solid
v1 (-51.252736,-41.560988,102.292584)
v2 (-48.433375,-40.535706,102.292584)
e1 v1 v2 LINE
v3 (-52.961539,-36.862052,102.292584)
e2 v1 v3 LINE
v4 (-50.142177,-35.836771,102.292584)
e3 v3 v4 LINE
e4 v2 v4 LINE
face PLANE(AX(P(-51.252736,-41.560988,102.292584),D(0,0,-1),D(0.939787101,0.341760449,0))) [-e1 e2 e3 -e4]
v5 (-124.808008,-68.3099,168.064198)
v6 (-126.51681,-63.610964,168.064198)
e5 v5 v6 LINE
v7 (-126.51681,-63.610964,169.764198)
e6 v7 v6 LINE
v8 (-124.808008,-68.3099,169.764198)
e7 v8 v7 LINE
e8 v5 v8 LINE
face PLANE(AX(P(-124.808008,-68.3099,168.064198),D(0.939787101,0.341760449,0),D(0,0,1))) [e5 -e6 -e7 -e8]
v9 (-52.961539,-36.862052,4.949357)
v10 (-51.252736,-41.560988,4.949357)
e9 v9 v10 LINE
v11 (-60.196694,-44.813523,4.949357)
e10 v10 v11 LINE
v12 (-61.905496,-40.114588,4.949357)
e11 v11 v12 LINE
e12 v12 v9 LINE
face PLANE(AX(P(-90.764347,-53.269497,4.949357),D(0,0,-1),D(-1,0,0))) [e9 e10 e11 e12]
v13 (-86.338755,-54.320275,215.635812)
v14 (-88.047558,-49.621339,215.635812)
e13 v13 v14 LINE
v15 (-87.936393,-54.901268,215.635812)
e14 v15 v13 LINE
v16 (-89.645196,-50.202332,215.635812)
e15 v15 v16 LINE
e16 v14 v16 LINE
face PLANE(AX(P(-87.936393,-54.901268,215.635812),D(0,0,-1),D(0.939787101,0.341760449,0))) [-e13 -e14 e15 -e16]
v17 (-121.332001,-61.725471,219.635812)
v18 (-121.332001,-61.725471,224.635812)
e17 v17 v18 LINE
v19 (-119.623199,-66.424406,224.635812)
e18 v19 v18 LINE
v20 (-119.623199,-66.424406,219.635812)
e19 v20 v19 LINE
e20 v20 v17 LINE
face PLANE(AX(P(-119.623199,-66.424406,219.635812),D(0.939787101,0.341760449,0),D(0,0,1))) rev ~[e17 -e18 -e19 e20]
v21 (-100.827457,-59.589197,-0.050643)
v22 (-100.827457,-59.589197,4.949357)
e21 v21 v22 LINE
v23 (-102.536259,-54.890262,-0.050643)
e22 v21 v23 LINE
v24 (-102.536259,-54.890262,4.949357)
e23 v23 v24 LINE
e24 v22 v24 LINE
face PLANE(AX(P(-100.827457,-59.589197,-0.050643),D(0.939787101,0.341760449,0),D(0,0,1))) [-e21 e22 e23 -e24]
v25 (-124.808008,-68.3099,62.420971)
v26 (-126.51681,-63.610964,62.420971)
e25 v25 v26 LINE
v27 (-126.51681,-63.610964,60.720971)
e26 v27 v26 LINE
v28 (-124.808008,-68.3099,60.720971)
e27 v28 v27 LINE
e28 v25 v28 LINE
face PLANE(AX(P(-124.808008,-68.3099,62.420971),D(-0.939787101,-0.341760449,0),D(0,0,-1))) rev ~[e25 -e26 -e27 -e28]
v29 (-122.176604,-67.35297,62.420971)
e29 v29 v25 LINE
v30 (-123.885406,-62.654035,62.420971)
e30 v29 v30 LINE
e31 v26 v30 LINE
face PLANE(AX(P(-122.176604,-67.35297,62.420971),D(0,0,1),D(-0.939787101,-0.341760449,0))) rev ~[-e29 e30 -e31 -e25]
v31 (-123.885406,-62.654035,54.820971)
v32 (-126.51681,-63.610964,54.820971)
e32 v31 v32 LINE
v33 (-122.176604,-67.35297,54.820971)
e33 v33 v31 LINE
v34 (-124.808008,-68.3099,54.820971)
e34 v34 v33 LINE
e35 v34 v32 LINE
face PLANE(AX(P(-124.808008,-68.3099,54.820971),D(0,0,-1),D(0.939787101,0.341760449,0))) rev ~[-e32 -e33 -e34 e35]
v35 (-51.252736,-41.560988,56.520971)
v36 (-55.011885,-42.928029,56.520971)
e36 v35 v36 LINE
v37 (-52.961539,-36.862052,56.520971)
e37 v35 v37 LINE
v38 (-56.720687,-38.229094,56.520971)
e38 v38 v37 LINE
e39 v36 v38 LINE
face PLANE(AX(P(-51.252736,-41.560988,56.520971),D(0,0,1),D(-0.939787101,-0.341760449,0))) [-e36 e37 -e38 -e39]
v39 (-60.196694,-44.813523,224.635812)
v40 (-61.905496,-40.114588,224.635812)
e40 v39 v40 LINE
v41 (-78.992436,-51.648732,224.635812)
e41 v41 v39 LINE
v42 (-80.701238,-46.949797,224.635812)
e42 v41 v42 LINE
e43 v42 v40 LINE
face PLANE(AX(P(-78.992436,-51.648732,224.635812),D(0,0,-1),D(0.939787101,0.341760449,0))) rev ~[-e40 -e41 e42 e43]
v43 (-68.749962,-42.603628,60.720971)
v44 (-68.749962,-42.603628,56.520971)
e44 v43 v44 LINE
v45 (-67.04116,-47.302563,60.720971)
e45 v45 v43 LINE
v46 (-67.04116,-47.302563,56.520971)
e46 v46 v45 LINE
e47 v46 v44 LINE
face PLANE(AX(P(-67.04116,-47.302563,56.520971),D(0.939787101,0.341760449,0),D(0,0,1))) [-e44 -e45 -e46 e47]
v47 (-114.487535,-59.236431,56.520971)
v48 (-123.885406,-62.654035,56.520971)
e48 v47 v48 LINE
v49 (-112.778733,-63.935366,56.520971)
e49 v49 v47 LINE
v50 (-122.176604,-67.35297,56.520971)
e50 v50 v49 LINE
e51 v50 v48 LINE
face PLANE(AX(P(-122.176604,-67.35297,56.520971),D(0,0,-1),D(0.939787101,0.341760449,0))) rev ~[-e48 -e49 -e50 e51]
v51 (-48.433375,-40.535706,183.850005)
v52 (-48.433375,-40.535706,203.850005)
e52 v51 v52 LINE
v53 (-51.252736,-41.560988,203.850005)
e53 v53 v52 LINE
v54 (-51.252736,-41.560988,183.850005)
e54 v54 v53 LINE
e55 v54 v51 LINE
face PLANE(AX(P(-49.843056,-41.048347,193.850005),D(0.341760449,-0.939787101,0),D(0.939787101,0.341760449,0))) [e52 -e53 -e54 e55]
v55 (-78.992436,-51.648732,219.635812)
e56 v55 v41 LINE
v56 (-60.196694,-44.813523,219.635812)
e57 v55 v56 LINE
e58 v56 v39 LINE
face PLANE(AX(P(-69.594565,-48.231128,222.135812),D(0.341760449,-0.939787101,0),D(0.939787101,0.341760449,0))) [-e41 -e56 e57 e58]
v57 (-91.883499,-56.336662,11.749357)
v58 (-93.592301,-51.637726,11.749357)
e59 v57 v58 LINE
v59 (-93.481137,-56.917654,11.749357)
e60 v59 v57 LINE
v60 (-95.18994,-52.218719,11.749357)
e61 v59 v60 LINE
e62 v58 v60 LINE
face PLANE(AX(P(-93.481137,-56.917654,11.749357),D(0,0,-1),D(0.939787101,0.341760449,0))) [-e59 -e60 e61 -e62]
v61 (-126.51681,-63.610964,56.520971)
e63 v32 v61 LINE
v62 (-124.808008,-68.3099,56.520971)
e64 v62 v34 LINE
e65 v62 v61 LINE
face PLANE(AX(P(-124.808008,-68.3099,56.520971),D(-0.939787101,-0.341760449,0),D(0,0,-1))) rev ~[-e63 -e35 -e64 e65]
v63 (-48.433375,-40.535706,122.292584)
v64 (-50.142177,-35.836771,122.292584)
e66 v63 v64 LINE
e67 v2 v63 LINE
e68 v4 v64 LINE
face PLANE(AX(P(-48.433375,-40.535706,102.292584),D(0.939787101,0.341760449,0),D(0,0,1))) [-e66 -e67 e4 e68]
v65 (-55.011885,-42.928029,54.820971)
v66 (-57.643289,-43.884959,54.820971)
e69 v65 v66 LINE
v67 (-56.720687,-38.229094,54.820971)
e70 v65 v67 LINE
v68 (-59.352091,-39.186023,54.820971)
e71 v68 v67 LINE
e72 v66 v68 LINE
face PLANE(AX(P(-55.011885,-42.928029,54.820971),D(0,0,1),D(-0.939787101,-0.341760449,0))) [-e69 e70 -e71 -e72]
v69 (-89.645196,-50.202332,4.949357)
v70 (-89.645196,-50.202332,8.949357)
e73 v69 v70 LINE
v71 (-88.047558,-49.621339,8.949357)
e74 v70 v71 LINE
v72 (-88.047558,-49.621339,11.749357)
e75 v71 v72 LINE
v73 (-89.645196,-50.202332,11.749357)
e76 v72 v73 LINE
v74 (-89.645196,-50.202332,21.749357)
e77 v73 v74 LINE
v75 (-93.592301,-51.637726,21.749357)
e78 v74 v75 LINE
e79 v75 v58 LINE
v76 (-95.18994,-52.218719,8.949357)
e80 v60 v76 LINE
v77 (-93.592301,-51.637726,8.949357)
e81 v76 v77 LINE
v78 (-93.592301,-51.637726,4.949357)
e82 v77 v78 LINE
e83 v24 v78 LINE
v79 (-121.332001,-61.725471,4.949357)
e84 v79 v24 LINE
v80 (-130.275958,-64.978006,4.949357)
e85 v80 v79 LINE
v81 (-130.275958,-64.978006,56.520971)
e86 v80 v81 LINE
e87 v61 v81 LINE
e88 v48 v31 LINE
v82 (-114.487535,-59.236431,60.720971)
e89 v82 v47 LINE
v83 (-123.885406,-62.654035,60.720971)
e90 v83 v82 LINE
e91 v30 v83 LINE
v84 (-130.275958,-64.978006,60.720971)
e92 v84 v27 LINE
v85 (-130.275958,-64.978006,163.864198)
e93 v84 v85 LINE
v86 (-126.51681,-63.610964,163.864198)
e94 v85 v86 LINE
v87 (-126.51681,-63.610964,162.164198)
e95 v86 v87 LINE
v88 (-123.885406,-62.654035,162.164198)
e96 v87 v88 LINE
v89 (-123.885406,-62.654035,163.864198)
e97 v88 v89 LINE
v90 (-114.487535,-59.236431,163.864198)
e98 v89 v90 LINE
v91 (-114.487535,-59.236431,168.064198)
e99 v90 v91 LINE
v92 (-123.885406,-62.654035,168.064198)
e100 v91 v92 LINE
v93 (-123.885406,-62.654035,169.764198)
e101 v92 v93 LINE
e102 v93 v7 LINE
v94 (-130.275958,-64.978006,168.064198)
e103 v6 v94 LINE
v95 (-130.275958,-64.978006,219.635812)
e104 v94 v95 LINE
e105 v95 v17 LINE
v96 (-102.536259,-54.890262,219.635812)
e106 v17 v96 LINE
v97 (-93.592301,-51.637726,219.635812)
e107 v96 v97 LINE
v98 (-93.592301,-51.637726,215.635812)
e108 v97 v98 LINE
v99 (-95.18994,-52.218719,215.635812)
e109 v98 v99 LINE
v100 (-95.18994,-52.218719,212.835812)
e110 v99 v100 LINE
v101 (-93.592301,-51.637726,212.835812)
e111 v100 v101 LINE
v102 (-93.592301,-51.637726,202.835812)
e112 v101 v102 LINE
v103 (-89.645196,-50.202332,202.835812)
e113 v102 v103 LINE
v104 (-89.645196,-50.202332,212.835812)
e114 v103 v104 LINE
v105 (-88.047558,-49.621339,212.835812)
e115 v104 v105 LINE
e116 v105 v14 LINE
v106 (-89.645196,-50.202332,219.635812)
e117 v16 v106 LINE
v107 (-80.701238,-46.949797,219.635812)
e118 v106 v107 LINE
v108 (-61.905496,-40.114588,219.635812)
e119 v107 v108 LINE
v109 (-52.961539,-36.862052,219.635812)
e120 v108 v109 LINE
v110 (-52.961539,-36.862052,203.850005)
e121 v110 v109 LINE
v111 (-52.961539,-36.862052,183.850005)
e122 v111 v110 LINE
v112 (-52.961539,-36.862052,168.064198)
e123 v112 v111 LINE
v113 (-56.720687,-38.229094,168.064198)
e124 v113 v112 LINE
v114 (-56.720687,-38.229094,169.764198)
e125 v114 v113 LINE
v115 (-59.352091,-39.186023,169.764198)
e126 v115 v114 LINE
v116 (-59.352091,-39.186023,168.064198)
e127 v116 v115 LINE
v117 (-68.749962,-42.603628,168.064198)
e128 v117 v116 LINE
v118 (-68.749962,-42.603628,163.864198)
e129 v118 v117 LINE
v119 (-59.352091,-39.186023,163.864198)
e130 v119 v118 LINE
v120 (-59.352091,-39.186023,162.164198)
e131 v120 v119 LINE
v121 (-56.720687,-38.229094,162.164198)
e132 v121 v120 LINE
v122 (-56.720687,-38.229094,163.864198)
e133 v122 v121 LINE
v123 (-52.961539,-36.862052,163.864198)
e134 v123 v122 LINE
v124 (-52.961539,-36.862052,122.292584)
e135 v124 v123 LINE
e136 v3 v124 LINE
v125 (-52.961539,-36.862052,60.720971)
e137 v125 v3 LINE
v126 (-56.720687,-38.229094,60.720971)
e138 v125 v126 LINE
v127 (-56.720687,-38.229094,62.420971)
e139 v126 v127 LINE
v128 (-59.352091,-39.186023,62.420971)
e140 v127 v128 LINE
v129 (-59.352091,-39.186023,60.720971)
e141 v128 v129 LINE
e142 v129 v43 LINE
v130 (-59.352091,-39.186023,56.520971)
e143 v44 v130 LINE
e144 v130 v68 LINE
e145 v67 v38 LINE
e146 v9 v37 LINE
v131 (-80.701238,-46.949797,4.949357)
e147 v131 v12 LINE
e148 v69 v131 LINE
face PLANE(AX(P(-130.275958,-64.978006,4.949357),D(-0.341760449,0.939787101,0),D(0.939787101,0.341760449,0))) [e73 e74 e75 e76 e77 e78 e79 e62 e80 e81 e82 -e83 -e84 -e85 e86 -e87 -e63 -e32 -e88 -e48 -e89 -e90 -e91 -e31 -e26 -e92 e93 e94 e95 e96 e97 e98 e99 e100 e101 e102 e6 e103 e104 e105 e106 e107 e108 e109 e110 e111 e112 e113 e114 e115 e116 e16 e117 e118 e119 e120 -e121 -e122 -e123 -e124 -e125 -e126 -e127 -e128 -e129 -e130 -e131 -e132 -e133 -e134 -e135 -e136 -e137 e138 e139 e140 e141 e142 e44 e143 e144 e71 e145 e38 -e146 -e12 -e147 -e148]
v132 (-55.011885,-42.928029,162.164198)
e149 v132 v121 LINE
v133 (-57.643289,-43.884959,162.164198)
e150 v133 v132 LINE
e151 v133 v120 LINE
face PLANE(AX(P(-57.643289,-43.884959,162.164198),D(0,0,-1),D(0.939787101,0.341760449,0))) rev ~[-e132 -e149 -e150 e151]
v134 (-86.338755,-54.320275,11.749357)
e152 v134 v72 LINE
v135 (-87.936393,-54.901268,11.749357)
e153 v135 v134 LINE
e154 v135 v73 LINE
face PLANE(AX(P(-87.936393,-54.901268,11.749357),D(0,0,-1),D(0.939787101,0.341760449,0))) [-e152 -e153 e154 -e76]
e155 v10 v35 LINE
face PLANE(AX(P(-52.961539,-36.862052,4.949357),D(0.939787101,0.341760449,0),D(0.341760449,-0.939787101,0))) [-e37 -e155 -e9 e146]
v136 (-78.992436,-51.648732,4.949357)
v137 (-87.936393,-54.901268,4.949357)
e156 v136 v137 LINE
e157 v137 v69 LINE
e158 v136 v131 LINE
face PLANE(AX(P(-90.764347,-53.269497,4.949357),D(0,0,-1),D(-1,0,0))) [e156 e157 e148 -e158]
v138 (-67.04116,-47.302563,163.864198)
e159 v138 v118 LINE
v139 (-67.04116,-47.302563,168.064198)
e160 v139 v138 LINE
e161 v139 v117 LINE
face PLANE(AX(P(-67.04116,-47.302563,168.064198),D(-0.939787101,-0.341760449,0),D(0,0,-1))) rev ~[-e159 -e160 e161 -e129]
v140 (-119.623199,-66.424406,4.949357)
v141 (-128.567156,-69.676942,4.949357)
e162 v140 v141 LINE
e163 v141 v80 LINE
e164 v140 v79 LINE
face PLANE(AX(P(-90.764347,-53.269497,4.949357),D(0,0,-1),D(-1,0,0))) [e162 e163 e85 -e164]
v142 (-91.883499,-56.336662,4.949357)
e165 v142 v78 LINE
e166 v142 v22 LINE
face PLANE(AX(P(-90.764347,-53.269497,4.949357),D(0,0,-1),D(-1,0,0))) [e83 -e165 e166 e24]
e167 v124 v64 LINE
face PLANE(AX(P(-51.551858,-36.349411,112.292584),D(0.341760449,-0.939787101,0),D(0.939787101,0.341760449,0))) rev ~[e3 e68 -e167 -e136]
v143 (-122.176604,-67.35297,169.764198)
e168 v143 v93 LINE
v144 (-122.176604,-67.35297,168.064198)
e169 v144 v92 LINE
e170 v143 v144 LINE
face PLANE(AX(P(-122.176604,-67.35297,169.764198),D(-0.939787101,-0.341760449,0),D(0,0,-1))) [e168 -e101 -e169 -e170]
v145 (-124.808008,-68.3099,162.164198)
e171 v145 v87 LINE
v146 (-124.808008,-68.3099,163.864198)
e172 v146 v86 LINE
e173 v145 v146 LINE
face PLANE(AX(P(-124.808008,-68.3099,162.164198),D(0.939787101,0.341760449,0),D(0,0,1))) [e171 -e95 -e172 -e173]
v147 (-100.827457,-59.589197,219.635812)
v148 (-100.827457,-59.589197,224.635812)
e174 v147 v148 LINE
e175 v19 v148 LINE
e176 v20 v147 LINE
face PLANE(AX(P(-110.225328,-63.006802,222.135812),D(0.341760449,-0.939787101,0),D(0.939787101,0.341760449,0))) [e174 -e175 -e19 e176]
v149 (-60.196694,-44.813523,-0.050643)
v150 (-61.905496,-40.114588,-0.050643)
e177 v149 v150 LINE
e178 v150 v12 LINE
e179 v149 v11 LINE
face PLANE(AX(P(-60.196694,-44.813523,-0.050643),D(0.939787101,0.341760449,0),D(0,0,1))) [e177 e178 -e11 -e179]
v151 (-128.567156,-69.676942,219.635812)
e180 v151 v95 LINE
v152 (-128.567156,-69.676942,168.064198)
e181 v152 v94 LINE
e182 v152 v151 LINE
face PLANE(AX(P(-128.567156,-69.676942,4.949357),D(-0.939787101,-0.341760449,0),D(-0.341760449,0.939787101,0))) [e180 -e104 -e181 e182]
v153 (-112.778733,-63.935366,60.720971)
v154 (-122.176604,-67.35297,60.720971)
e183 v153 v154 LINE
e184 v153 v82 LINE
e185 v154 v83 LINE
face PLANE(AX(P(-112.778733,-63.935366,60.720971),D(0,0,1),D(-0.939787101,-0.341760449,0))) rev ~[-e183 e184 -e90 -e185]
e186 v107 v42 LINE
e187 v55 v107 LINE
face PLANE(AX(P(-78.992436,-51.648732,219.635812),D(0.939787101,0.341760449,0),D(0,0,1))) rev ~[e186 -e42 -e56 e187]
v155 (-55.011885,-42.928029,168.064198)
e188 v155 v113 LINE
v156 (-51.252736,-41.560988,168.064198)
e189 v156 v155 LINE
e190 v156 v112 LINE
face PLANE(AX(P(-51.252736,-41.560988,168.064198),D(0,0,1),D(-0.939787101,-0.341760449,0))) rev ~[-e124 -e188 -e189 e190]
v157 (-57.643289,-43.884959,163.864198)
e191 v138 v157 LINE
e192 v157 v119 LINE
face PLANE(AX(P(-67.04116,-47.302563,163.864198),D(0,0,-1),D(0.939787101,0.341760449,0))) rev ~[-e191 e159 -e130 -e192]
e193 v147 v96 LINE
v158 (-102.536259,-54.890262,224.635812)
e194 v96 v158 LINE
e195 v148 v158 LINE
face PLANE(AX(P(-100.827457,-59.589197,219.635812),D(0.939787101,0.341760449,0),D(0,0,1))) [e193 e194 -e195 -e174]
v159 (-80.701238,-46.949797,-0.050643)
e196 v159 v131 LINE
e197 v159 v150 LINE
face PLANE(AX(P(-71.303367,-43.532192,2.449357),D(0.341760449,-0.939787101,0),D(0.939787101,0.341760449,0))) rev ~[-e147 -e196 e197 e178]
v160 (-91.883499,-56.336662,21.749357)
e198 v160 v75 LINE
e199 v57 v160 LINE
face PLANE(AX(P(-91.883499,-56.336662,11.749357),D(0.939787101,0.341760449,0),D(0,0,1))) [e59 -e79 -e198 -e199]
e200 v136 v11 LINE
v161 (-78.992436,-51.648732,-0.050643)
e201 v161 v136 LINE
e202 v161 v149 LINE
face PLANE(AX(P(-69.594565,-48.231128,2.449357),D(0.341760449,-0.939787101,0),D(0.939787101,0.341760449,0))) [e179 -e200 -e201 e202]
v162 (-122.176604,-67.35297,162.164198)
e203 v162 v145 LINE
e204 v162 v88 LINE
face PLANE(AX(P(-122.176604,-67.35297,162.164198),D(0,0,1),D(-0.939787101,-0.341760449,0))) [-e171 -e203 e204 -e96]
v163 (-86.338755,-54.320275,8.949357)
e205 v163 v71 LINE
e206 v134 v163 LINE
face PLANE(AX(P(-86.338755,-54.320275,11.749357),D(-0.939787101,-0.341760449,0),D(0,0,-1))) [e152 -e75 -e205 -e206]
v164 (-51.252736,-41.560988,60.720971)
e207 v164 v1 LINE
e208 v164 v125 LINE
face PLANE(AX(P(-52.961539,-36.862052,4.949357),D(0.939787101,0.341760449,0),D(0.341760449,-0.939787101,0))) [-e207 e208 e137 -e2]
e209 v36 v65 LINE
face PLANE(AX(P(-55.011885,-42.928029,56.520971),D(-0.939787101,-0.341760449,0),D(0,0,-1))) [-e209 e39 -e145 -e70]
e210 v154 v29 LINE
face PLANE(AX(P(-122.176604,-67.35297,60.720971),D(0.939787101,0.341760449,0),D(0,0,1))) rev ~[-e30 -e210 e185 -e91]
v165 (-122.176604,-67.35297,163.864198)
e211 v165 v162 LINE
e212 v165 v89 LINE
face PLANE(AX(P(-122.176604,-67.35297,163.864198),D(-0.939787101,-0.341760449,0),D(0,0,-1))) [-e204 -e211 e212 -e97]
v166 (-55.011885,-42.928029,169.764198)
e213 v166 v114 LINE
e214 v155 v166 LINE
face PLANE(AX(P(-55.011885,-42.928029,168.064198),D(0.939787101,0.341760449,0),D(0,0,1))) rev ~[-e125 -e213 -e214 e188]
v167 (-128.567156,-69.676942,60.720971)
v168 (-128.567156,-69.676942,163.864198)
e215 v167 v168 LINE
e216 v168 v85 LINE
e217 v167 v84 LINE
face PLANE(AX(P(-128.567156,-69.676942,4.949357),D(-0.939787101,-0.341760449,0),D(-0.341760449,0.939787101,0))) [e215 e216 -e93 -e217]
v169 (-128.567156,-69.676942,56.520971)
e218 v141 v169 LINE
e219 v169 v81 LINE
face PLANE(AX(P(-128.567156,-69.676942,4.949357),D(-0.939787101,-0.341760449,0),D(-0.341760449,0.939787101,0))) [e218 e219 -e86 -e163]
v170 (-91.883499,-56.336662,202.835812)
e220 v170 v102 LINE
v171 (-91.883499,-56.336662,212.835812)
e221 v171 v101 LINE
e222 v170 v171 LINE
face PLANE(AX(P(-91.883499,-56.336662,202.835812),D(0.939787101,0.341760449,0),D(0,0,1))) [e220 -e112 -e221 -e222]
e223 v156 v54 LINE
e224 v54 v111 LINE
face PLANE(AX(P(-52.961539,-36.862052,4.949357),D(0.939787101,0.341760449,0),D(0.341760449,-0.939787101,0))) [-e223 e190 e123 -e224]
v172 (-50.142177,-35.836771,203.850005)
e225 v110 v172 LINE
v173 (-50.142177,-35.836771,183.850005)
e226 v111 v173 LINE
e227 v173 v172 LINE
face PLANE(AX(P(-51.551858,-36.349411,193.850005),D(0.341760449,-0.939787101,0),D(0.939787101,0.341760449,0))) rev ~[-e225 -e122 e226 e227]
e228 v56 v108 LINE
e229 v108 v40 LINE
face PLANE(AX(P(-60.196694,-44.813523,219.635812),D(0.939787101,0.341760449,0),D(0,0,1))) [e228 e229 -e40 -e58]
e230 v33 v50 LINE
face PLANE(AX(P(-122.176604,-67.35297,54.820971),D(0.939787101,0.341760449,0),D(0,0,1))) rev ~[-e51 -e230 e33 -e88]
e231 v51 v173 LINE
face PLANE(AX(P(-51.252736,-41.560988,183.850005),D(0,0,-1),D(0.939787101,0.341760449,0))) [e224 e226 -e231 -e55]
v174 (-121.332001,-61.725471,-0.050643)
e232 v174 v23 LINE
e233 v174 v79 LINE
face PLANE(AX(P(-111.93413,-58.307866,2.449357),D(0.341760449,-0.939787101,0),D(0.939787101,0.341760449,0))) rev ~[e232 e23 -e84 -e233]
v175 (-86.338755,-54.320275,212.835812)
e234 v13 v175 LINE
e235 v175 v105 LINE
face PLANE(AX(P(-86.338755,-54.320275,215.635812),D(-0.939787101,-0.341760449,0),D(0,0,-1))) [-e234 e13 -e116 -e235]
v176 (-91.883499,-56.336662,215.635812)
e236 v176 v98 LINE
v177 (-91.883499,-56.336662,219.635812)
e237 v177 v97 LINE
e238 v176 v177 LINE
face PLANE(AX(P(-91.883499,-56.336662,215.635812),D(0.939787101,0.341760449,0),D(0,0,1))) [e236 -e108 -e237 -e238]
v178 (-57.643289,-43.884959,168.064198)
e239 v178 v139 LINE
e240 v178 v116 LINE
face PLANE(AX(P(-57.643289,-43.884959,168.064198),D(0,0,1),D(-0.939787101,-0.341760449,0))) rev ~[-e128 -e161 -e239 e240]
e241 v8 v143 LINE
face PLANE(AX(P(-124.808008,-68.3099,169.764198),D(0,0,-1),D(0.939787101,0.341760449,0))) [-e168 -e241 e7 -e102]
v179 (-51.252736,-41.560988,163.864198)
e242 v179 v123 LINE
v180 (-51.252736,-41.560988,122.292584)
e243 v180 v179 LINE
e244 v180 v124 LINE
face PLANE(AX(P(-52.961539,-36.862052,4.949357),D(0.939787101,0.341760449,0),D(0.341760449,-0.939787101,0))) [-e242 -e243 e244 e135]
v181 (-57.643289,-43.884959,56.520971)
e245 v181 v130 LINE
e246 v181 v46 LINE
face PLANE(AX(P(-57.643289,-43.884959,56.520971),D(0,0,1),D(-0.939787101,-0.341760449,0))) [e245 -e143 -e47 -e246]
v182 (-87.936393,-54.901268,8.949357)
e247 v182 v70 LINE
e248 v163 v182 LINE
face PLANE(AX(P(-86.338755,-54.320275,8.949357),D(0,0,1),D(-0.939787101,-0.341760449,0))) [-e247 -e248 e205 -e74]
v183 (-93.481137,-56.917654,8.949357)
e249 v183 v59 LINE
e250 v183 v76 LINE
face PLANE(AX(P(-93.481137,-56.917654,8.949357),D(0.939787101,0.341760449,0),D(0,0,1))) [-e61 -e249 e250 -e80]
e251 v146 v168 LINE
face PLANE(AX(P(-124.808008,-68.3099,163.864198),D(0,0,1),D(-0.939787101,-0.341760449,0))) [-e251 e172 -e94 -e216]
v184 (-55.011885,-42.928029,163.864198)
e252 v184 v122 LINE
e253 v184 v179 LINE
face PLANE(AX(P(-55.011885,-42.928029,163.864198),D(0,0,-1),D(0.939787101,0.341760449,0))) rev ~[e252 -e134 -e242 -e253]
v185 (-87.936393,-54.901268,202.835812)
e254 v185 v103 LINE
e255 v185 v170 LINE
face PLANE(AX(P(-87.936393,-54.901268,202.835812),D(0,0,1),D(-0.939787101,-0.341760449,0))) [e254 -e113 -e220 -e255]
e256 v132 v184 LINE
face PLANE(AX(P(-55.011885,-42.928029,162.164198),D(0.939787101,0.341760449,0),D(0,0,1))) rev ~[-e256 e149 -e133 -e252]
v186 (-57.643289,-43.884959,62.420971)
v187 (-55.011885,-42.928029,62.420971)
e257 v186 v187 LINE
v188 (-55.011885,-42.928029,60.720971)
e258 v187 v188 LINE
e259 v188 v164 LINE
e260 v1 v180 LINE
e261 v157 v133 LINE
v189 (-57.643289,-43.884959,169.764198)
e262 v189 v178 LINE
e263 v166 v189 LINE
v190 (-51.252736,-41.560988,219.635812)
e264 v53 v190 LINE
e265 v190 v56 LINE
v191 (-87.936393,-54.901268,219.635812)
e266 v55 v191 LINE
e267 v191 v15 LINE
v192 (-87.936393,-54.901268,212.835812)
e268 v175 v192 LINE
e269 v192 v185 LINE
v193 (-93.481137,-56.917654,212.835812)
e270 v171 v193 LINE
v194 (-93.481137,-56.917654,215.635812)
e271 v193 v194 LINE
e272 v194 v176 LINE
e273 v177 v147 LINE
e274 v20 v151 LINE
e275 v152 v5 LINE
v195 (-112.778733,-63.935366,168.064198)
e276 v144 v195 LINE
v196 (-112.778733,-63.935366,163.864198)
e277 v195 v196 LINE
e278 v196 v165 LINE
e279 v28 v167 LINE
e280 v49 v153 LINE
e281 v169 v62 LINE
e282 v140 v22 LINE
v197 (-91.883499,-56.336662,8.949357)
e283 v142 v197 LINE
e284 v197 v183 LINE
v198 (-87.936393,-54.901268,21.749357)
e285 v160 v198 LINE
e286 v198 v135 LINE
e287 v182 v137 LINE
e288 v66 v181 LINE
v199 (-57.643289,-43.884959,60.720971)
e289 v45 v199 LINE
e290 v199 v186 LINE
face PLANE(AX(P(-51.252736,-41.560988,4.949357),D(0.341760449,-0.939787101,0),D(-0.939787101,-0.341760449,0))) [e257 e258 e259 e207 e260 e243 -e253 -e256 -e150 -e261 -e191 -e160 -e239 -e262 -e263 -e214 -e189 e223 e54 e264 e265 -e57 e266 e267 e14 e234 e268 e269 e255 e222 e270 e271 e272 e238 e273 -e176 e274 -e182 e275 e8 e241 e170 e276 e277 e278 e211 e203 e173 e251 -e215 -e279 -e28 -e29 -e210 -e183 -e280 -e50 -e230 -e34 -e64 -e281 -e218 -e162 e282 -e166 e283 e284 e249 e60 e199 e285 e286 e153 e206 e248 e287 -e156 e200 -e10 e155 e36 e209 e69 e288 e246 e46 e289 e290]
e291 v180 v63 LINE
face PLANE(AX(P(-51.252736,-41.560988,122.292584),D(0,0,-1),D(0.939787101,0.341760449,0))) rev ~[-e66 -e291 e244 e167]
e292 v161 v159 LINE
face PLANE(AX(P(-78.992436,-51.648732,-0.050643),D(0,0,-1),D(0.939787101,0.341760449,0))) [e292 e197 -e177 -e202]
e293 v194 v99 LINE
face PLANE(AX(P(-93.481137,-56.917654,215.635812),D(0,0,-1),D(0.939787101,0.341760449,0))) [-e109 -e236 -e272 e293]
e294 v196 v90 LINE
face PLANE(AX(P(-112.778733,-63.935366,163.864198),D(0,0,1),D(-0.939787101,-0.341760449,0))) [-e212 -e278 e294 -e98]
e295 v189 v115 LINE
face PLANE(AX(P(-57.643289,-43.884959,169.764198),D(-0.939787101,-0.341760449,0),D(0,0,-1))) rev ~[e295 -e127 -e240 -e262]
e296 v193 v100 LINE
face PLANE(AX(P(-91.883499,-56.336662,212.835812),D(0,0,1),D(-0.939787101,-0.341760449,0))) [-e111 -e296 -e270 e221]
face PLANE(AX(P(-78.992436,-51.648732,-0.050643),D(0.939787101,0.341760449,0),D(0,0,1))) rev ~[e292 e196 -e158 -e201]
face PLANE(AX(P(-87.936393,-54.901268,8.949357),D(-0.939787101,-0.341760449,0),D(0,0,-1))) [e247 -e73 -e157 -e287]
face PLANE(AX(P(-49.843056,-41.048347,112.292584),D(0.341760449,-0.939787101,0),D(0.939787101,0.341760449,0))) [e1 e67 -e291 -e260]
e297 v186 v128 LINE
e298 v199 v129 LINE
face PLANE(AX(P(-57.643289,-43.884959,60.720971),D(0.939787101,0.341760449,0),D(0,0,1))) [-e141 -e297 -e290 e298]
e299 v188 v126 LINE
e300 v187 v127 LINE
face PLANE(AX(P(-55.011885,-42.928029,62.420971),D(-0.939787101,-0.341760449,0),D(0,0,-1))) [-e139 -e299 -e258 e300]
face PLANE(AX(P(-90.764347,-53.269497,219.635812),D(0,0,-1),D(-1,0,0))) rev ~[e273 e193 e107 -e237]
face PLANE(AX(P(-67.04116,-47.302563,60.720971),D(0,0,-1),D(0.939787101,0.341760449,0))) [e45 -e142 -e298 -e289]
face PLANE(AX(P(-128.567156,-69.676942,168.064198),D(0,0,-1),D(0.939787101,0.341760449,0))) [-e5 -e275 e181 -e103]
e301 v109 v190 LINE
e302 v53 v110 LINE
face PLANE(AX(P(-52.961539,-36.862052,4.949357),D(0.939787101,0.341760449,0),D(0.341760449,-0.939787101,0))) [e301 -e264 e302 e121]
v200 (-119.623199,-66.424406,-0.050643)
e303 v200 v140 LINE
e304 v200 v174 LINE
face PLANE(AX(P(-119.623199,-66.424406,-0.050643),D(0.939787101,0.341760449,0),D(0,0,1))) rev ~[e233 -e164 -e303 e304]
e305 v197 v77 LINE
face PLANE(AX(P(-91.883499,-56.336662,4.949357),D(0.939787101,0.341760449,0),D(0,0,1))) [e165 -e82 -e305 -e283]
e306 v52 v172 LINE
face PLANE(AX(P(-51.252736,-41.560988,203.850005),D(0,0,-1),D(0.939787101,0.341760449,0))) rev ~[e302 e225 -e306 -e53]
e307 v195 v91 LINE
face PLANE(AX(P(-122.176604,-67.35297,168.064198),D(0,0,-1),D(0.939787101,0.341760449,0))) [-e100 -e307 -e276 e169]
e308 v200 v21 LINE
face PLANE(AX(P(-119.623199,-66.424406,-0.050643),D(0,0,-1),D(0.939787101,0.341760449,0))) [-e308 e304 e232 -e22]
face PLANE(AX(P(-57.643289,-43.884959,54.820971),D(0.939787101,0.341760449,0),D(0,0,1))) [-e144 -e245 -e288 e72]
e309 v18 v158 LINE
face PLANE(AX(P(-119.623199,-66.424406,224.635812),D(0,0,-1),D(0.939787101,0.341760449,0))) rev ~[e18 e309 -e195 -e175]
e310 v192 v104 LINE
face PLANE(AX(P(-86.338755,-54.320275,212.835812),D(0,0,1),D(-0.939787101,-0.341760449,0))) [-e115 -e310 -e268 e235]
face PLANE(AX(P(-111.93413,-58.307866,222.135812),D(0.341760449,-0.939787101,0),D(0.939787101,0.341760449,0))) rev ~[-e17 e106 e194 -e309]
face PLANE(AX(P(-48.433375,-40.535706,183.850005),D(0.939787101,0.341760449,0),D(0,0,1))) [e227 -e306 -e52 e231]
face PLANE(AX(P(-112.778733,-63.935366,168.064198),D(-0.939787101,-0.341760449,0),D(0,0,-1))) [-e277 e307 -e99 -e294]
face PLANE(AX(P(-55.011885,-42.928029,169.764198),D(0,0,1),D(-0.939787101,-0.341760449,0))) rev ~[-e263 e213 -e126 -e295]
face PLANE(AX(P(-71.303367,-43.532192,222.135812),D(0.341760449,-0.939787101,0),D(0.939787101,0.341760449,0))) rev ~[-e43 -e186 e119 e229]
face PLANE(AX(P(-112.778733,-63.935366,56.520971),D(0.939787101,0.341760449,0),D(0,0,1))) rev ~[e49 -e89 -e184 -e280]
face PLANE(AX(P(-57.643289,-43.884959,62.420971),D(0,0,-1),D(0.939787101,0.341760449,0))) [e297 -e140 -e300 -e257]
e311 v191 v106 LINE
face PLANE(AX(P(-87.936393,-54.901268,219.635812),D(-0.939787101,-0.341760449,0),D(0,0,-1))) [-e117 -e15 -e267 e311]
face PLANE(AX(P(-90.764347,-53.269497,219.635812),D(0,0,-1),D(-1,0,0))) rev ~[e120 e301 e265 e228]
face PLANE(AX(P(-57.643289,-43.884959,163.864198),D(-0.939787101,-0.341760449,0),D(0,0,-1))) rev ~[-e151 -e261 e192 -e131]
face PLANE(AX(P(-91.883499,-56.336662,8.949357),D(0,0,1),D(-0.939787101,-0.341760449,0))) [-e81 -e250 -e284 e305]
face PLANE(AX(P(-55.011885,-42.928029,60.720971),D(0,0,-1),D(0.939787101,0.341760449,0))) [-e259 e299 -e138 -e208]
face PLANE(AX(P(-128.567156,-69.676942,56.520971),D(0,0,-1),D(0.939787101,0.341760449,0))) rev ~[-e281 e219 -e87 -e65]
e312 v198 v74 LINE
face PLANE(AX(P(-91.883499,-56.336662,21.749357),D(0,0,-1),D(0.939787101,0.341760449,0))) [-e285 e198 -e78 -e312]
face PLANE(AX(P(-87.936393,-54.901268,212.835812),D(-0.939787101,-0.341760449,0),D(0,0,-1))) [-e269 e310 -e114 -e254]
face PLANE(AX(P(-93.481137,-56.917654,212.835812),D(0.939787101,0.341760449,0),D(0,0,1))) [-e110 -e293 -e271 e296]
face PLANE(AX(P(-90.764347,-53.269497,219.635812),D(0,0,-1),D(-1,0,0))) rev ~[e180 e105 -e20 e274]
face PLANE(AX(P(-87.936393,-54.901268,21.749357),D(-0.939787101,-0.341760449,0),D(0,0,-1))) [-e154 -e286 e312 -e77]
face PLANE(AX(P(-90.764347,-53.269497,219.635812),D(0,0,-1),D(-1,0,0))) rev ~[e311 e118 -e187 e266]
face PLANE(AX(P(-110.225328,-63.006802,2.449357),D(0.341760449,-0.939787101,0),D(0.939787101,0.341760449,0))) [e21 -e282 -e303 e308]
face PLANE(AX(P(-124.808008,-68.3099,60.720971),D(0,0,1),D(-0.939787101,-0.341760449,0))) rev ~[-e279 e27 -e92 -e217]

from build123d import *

# Parameters (mm, degrees)
BOSS_EXTRUDE1_DEPTH = 214.686455
CUT_EXTRUDE3_DEPTH  = 32.423010849
SKETCH5_W           = 20
SKETCH5_H           = 5
SKETCH5_W_2         = 3
SKETCH5_H_2         = 20
BOSS_EXTRUDE2_DEPTH = 5


with BuildPart() as part:
    # Sketch2 → Boss-Extrude1 (new body)
    with BuildSketch(Plane.XY.offset(4.949356739)):
        Polygon((-52.961538618, -36.862052104), (-51.252736373, -41.56098761), (-128.567156233, -69.67694155), (-130.275958479, -64.978006044), align=None)
    extrude(amount=BOSS_EXTRUDE1_DEPTH)

    # Sketch4 → Cut-Extrude3 (cut, through all)
    with BuildSketch(Plane(origin=(7.362313595, -20.245196221, 0), x_dir=(-0.939787101, -0.341760449, 0), z_dir=(0.341760449, -0.939787101, 0))):
        Polygon((101.40457011, -4.949356739), (105.60457011, -4.949356739), (105.60457011, -8.949356739), (107.30457011, -8.949356739), (107.30457011, -11.749356739), (105.60457011, -11.749356739), (105.60457011, -21.749356739), (101.40457011, -21.749356739), (101.40457011, -11.749356739), (99.70457011, -11.749356739), (99.70457011, -8.949356739), (101.40457011, -8.949356739), align=None)
        Polygon((62.37056233, -60.720970532), (62.37056233, -56.520970532), (66.37056233, -56.520970532), (66.37056233, -54.820970532), (69.17056233, -54.820970532), (69.17056233, -56.520970532), (79.17056233, -56.520970532), (79.17056233, -60.720970532), (69.17056233, -60.720970532), (69.17056233, -62.420970532), (66.37056233, -62.420970532), (66.37056233, -60.720970532), align=None)
        Polygon((105.60457011, -219.635811913), (101.40457011, -219.635811913), (101.40457011, -215.635811913), (99.70457011, -215.635811913), (99.70457011, -212.835811913), (101.40457011, -212.835811913), (101.40457011, -202.835811913), (105.60457011, -202.835811913), (105.60457011, -212.835811913), (107.30457011, -212.835811913), (107.30457011, -215.635811913), (105.60457011, -215.635811913), align=None)
        Polygon((66.37056233, -168.064198119), (66.37056233, -169.764198119), (69.17056233, -169.764198119), (69.17056233, -168.064198119), (79.17056233, -168.064198119), (79.17056233, -163.864198119), (69.17056233, -163.864198119), (69.17056233, -162.164198119), (66.37056233, -162.164198119), (66.37056233, -163.864198119), (62.37056233, -163.864198119), (62.37056233, -168.064198119), align=None)
        Polygon((144.638577891, -163.864198119), (144.638577891, -168.064198119), (140.638577891, -168.064198119), (140.638577891, -169.764198119), (137.838577891, -169.764198119), (137.838577891, -168.064198119), (127.838577891, -168.064198119), (127.838577891, -163.864198119), (137.838577891, -163.864198119), (137.838577891, -162.164198119), (140.638577891, -162.164198119), (140.638577891, -163.864198119), align=None)
        Polygon((140.638577891, -56.520970532), (140.638577891, -54.820970532), (137.838577891, -54.820970532), (137.838577891, -56.520970532), (127.838577891, -56.520970532), (127.838577891, -60.720970532), (137.838577891, -60.720970532), (137.838577891, -62.420970532), (140.638577891, -62.420970532), (140.638577891, -60.720970532), (144.638577891, -60.720970532), (144.638577891, -56.520970532), align=None)
    extrude(amount=-CUT_EXTRUDE3_DEPTH, mode=Mode.SUBTRACT)

    # Sketch5 → Boss-Extrude2 (add)
    with BuildSketch(Plane(origin=(7.362313595, -20.245196221, 0), x_dir=(0.939787101, 0.341760449, 0), z_dir=(0.341760449, -0.939787101, 0))):
        with Locations((-81.88756622, 2.449356739)):
            Rectangle(SKETCH5_W, SKETCH5_H)
        with Locations((-125.121574, 2.449356739)):
            Rectangle(SKETCH5_W, SKETCH5_H)
        with Locations((-60.87056233, 112.292584326)):
            Rectangle(SKETCH5_W_2, SKETCH5_H_2)
        with Locations((-60.87056233, 193.850005016)):
            Rectangle(SKETCH5_W_2, SKETCH5_H_2)
        with Locations((-81.88756622, 222.135811913)):
            Rectangle(SKETCH5_W, SKETCH5_H)
        with Locations((-125.121574, 222.135811913)):
            Rectangle(SKETCH5_W, SKETCH5_H)
    extrude(amount=-BOSS_EXTRUDE2_DEPTH)


solid = part.part
